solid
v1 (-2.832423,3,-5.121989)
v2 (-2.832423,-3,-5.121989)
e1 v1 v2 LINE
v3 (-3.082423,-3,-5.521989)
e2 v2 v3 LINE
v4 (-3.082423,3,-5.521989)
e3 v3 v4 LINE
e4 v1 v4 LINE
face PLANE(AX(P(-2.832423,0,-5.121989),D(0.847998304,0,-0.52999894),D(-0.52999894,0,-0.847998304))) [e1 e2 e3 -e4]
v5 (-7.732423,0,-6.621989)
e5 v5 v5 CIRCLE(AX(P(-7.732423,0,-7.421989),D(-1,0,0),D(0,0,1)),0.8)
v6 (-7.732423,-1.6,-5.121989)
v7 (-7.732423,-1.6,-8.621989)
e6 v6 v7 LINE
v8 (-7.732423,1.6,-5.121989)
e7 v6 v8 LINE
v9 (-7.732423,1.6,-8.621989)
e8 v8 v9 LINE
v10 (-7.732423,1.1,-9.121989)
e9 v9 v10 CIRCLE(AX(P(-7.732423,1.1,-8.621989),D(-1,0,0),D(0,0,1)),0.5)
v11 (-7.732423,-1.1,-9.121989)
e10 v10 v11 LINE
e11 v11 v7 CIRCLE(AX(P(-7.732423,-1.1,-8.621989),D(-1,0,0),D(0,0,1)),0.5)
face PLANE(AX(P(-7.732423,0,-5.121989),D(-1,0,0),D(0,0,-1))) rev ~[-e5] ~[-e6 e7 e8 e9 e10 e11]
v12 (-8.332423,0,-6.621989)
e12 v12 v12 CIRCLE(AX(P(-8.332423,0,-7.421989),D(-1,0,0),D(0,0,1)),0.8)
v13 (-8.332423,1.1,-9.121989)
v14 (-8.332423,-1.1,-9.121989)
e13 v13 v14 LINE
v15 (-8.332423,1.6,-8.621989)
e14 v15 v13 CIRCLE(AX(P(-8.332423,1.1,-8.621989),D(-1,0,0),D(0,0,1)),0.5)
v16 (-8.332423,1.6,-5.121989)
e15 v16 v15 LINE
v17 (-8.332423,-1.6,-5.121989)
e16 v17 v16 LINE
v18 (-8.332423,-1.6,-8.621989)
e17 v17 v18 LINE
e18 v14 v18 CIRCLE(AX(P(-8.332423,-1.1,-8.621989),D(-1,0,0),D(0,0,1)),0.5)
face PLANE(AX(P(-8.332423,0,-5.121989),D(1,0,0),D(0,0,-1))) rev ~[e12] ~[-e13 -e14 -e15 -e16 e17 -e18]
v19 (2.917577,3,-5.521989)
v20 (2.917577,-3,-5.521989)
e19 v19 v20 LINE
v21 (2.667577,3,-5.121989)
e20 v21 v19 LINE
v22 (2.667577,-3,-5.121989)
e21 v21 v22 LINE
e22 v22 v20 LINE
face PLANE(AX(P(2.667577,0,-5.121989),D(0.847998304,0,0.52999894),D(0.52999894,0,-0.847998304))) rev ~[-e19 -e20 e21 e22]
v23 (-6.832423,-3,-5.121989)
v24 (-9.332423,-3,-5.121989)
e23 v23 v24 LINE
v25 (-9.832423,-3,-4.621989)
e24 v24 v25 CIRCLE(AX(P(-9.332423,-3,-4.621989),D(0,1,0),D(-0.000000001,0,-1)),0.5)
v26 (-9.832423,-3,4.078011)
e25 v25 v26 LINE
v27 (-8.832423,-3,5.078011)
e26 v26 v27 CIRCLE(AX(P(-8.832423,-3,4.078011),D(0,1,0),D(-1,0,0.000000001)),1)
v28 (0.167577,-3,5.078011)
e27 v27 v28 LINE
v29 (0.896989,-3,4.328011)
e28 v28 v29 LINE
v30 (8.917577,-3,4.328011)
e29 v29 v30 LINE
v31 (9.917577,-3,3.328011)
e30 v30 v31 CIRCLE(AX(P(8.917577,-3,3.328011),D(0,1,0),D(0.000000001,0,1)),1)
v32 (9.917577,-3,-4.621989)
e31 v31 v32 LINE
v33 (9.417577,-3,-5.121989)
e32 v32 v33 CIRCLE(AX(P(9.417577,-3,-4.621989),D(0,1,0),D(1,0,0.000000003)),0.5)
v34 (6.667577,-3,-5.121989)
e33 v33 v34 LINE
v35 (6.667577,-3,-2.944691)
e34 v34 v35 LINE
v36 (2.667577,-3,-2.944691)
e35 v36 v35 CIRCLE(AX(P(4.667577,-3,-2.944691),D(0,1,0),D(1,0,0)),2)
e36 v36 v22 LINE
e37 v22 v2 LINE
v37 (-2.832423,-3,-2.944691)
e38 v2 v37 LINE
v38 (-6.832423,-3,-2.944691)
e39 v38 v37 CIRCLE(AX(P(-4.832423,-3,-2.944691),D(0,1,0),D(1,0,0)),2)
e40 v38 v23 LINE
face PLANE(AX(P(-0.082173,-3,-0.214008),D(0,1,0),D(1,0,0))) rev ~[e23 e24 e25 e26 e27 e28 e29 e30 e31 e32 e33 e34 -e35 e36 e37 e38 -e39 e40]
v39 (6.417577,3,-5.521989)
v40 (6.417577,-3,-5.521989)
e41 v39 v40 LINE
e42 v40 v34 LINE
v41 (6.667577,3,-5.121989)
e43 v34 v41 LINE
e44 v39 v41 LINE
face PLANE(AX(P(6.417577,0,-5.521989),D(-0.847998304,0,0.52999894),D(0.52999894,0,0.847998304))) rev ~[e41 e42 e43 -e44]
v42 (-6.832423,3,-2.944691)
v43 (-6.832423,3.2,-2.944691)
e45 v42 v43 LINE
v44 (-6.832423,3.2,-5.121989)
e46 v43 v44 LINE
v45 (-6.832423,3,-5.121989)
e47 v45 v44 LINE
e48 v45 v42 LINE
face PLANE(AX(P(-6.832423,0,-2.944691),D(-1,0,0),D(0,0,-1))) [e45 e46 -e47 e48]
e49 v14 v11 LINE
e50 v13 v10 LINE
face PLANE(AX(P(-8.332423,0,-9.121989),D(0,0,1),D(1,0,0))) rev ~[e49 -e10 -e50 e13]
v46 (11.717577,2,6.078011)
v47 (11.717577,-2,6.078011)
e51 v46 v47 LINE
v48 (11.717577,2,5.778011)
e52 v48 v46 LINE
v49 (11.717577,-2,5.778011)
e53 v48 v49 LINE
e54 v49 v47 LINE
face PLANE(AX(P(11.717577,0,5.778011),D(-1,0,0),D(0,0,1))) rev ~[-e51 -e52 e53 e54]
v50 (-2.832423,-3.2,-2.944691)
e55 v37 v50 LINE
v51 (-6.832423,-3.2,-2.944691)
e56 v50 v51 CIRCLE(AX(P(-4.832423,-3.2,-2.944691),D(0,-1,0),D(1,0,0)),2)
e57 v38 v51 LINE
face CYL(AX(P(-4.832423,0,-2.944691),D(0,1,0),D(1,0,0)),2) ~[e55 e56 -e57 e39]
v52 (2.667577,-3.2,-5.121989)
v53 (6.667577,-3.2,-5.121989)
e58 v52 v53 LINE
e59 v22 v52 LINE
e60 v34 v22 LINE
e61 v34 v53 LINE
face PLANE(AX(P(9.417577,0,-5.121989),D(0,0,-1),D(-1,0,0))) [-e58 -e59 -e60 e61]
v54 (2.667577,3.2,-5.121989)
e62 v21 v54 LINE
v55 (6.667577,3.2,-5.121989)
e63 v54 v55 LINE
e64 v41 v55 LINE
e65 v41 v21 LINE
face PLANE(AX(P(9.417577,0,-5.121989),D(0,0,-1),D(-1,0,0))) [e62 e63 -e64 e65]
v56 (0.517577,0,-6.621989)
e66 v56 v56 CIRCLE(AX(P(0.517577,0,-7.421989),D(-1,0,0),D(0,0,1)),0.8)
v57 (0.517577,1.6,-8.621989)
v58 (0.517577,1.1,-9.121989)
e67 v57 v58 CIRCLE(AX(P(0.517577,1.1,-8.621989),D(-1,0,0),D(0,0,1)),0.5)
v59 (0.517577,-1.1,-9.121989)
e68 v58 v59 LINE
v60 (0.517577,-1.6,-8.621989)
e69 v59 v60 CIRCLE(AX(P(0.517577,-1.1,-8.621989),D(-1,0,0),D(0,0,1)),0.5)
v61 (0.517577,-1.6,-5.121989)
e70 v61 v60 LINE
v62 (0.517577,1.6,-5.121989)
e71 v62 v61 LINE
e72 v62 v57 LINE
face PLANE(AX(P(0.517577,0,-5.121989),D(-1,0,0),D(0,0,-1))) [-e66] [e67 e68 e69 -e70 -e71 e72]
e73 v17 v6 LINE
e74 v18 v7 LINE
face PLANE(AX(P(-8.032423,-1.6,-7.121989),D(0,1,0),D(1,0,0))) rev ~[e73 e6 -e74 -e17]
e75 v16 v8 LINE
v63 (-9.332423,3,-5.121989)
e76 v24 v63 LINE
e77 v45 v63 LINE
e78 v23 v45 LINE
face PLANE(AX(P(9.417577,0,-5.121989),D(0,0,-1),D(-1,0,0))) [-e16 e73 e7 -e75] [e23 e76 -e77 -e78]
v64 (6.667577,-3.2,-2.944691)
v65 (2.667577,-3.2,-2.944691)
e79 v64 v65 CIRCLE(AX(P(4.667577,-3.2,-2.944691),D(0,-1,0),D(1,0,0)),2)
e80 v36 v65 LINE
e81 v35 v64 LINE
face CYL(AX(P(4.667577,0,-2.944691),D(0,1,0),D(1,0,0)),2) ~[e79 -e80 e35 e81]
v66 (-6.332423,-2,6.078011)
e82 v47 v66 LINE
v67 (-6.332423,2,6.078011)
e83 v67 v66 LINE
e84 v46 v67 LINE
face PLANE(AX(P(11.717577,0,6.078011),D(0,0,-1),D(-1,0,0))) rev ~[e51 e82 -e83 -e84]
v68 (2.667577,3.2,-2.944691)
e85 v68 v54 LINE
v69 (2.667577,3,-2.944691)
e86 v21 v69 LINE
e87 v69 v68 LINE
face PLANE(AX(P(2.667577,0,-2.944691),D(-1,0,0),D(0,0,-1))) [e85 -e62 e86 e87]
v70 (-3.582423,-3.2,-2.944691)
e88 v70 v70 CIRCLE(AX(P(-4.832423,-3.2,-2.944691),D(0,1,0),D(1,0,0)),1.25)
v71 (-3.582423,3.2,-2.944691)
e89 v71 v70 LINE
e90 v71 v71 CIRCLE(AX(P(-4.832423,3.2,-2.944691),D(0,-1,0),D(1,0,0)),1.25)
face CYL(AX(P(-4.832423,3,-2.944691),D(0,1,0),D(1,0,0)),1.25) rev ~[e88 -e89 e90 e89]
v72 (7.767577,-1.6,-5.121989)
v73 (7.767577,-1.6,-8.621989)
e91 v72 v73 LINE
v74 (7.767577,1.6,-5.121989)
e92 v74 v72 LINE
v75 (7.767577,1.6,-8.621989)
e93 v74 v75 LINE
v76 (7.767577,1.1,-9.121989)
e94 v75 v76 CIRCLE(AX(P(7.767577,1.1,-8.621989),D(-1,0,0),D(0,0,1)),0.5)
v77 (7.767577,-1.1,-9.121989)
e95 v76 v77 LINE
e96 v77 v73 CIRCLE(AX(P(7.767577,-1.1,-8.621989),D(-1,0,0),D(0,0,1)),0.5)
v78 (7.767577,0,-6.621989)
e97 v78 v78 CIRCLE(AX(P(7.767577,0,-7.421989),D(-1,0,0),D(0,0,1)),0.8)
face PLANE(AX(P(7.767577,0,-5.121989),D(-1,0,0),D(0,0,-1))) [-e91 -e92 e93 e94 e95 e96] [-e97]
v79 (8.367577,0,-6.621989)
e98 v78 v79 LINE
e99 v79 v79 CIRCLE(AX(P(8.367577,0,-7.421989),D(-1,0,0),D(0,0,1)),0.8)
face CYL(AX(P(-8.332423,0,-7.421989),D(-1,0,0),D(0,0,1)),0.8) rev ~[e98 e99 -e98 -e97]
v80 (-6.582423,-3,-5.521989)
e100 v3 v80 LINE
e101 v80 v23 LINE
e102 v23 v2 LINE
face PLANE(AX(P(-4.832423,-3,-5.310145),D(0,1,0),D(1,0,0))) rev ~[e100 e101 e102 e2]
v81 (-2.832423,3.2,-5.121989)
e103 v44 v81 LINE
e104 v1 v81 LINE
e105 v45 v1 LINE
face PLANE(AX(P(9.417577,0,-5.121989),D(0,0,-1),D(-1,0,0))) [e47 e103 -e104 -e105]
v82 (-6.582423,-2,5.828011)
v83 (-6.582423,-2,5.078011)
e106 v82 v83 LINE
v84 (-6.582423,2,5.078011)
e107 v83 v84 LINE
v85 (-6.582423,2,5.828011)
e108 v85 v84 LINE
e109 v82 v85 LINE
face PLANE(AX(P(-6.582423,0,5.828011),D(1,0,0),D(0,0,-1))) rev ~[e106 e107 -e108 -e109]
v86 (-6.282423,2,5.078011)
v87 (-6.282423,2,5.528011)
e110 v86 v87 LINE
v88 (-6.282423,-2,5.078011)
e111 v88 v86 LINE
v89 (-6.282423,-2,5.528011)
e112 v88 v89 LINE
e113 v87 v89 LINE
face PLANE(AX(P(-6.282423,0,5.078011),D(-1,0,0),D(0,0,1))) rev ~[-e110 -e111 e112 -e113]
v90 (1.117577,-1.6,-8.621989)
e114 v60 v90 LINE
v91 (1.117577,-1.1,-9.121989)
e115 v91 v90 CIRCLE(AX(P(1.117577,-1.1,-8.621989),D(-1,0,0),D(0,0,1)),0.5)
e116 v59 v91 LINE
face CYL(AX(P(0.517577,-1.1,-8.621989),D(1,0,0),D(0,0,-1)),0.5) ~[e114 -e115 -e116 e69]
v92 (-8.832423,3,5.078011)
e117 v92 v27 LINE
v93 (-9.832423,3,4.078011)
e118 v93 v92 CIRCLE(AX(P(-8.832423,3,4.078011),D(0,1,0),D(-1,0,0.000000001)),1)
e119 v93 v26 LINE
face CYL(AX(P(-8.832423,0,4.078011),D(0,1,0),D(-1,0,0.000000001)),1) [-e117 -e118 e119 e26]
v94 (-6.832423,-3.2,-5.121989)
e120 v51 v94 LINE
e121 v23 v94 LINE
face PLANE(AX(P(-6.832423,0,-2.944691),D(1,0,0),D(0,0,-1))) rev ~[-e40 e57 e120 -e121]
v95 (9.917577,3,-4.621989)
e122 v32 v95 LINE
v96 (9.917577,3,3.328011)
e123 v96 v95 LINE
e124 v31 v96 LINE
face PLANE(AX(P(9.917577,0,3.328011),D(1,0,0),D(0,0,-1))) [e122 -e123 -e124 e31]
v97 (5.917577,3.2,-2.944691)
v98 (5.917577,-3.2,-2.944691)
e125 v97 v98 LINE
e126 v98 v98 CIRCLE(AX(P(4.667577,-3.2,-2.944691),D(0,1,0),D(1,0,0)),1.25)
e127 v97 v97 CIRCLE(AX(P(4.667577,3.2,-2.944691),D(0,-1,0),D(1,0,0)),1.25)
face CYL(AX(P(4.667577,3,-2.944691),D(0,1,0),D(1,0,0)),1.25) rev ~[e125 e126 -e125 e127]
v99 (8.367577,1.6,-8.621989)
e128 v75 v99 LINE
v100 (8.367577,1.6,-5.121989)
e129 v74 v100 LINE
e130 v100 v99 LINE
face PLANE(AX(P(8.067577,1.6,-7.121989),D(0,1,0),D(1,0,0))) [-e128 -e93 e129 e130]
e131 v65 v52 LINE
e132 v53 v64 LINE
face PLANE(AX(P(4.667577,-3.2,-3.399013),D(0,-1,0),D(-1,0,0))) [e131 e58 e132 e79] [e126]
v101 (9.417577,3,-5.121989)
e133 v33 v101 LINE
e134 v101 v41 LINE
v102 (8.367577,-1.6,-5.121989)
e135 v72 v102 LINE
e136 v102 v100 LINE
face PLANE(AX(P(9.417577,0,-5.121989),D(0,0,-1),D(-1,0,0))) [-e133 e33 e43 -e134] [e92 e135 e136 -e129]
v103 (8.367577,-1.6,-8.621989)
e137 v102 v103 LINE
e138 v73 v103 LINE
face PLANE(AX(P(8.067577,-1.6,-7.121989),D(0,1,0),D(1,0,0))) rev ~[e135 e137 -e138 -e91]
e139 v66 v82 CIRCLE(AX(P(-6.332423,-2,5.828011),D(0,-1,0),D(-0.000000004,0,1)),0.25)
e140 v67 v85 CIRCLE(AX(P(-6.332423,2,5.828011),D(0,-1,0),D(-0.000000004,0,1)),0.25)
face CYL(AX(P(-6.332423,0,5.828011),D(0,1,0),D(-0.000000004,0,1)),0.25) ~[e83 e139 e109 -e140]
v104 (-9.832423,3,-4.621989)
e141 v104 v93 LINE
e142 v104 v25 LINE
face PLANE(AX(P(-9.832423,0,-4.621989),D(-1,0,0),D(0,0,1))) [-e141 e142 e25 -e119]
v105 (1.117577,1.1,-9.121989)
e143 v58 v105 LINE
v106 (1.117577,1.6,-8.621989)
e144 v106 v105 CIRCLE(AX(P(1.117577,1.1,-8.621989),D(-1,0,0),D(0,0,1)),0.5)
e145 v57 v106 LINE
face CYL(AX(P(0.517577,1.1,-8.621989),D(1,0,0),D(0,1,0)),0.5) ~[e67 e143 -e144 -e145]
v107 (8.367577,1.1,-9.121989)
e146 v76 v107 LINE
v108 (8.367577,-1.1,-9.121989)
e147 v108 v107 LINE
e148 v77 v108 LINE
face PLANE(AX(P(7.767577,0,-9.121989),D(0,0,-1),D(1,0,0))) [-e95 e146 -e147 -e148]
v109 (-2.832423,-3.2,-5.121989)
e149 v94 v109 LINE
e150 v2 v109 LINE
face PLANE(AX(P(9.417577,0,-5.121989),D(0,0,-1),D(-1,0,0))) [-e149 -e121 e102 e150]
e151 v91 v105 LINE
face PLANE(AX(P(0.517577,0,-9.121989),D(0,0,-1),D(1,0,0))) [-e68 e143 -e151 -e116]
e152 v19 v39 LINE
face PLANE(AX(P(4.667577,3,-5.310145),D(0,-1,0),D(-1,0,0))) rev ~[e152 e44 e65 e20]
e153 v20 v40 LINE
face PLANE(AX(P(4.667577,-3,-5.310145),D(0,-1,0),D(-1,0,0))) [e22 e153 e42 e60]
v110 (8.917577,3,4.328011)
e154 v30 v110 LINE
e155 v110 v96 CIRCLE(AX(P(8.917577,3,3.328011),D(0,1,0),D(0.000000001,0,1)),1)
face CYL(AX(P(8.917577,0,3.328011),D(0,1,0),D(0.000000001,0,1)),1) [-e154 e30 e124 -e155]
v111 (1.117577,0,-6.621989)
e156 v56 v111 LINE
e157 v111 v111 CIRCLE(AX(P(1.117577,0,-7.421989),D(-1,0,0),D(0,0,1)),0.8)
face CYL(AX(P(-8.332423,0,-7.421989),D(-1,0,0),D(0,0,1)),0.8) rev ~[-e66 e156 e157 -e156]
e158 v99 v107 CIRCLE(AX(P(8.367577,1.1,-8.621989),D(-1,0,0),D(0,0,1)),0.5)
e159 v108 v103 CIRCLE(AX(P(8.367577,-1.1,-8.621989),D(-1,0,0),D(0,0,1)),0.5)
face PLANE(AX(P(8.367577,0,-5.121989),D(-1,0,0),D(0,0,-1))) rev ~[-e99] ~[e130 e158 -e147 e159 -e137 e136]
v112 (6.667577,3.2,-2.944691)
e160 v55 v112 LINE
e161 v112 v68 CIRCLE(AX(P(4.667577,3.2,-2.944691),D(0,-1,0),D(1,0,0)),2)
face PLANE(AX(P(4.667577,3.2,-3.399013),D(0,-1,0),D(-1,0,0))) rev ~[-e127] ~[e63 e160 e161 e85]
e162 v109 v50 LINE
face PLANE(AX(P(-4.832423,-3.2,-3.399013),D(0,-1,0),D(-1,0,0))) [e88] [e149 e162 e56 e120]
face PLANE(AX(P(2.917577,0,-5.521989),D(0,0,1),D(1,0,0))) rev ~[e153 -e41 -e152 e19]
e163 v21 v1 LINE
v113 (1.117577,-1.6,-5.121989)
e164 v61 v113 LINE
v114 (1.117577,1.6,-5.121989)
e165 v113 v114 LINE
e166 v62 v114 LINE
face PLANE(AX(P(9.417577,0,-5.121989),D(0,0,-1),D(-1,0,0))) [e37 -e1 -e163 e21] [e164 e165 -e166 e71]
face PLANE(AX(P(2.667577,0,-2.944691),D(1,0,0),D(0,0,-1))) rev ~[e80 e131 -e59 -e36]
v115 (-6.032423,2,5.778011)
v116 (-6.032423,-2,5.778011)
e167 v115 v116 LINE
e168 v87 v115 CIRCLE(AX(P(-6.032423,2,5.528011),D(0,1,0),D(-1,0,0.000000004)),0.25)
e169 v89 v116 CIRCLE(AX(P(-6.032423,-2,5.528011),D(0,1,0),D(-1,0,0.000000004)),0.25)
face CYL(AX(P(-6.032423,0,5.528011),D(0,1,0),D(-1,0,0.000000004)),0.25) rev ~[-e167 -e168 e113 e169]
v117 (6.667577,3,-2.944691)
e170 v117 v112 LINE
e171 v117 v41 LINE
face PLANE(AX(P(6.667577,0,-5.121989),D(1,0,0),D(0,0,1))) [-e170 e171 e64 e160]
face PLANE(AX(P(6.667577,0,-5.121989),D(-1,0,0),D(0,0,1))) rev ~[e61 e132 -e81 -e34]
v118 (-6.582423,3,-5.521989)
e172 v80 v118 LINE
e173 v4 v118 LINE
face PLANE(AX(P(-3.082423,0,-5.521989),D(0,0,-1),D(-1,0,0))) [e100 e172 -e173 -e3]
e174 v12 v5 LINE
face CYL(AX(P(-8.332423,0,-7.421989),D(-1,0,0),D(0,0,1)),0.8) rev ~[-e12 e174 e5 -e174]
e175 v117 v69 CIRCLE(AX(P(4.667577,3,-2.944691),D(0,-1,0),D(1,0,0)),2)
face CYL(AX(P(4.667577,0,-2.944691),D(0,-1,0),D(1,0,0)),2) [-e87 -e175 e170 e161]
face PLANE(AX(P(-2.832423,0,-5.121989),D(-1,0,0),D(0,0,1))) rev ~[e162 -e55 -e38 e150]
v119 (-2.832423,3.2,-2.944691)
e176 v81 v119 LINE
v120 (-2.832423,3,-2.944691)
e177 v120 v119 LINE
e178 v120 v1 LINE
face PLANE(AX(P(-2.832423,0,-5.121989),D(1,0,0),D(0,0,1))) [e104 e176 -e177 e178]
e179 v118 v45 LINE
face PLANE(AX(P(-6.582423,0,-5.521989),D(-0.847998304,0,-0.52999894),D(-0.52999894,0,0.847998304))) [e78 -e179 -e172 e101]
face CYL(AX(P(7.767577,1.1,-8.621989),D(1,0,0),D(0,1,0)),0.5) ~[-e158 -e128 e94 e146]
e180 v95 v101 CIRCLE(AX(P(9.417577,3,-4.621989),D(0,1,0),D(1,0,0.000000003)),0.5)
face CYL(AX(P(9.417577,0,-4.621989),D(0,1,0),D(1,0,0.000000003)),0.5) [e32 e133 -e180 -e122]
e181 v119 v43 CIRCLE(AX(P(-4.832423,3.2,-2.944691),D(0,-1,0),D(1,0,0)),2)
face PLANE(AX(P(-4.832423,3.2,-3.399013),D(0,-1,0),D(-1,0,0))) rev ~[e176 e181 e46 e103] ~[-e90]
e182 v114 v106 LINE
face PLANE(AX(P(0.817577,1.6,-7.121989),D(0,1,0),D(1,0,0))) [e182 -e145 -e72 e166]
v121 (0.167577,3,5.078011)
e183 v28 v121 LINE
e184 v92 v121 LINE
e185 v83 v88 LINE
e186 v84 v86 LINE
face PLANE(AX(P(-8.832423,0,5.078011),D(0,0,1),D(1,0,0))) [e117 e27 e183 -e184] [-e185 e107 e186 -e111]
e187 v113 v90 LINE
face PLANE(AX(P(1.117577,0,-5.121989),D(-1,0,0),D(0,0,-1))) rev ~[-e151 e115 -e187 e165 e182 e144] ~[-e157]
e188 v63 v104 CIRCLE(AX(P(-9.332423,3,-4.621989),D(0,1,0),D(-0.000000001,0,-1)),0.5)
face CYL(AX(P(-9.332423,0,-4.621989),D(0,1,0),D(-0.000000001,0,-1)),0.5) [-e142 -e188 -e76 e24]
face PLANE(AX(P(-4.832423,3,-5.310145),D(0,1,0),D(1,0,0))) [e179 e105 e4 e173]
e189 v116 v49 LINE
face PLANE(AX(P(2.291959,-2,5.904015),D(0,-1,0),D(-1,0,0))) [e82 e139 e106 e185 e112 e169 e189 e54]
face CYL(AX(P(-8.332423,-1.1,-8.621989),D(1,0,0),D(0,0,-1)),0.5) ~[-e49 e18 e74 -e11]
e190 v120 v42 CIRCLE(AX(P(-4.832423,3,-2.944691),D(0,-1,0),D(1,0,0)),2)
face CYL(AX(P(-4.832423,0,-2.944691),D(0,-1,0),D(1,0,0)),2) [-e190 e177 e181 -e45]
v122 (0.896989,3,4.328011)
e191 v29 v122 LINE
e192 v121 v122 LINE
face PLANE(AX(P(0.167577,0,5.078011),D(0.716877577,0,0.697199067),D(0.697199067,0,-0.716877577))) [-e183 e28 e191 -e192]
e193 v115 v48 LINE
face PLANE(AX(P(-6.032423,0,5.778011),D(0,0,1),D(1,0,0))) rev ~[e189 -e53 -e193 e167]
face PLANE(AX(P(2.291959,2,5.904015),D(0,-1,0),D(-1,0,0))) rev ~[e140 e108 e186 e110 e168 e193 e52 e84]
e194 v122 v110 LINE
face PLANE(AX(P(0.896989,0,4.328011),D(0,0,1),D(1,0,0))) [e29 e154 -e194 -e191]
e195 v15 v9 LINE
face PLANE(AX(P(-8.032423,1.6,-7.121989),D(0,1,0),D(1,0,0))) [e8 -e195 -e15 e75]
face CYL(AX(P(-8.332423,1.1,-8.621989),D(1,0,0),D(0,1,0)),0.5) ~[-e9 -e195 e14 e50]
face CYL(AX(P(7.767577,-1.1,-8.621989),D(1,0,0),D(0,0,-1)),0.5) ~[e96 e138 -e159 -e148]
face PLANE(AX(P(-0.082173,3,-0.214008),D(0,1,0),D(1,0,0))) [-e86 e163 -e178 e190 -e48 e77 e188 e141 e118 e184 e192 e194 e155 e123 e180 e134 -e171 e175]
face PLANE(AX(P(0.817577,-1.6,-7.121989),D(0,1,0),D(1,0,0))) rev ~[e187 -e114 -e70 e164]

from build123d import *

# Parameters (mm, degrees)
BOSS_EXTRUDE1_DEPTH      = 3
BOSS_EXTRUDE1_DEPTH_BACK = 3
BOSS_EXTRUDE2_DEPTH      = 2
BOSS_EXTRUDE2_DEPTH_BACK = 2
BOSS_EXTRUDE3_DEPTH      = 3.2
BOSS_EXTRUDE3_DEPTH_BACK = 3.2
SKETCH3_R                = 1.25
CUT_EXTRUDE1_DEPTH       = 1.2
CUT_EXTRUDE1_DEPTH_BACK  = 7.2
BOSS_EXTRUDE4_DEPTH      = 3
BOSS_EXTRUDE4_DEPTH_BACK = 3
SKETCH6_W                = 0.6
SKETCH6_H                = 4
BOSS_EXTRUDE5_DEPTH      = 1.6
BOSS_EXTRUDE5_DEPTH_BACK = 1.6
FILLET1_R                = 0.5
SKETCH7_R                = 0.8
CUT_EXTRUDE2_DEPTH       = 2.5
CUT_EXTRUDE2_DEPTH_BACK  = 21.05


with BuildPart() as part:
    # Sketch1 → Boss-Extrude1 (new body, two sides)
    with BuildSketch(Plane(origin=(0, 0, 0), x_dir=(1, 0, 0), z_dir=(0, 1, 0))) as boss_extrude1_sk:
        with BuildLine():
            Line((-8.832423279, -5.07801101), (0.167576721, -5.07801101))
            Line((0.167576721, -5.07801101), (0.89698899, -4.32801101))
            Line((0.89698899, -4.32801101), (8.917576721, -4.32801101))
            ThreePointArc((8.917576721, -4.32801101), (9.624683502, -4.035117791), (9.917576721, -3.32801101))
            Line((9.917576721, -3.32801101), (9.917576721, 4.62198899))
            ThreePointArc((9.917576721, 4.62198899), (9.771130112, 4.975542381), (9.417576721, 5.12198899))
            Line((9.417576721, 5.12198899), (-9.332423279, 5.12198899))
            ThreePointArc((-9.332423279, 5.12198899), (-9.685976669, 4.975542381), (-9.832423279, 4.62198899))
            Line((-9.832423279, 4.62198899), (-9.832423279, -4.07801101))
            ThreePointArc((-9.832423279, -4.07801101), (-9.53953006, -4.785117791), (-8.832423279, -5.07801101))
        make_face()
    extrude(amount=BOSS_EXTRUDE1_DEPTH)
    extrude(boss_extrude1_sk.sketch, amount=-BOSS_EXTRUDE1_DEPTH_BACK)

    # Sketch2 → Boss-Extrude2 (add, two sides)
    with BuildSketch(Plane(origin=(0, 0, 0), x_dir=(1, 0, 0), z_dir=(0, 1, 0))) as boss_extrude2_sk:
        with BuildLine():
            Line((-6.582423279, -5.07801101), (-6.282423279, -5.07801101))
            Line((-6.282423279, -5.07801101), (-6.282423279, -5.52801101))
            ThreePointArc((-6.282423279, -5.52801101), (-6.209199974, -5.704787705), (-6.032423279, -5.77801101))
            Line((-6.032423279, -5.77801101), (11.717576721, -5.77801101))
            Line((11.717576721, -5.77801101), (11.717576721, -6.07801101))
            Line((11.717576721, -6.07801101), (-6.282423279, -6.07801101))
            Line((-6.282423279, -6.07801101), (-6.332423279, -6.07801101))
            ThreePointArc((-6.332423279, -6.07801101), (-6.509199974, -6.004787705), (-6.582423279, -5.82801101))
            Line((-6.582423279, -5.82801101), (-6.582423279, -5.07801101))
        make_face()
    extrude(amount=BOSS_EXTRUDE2_DEPTH)
    extrude(boss_extrude2_sk.sketch, amount=-BOSS_EXTRUDE2_DEPTH_BACK)

    # Sketch4 → Boss-Extrude3 (add, two sides)
    with BuildSketch(Plane(origin=(0, 0, 0), x_dir=(1, 0, 0), z_dir=(0, 1, 0))) as boss_extrude3_sk:
        with BuildLine():
            Line((-6.832423279, 2.944690743), (-6.832423279, 5.12198899))
            Line((-6.832423279, 5.12198899), (-2.832423279, 5.12198899))
            Line((-2.832423279, 5.12198899), (-2.832423279, 2.944690743))
            ThreePointArc((-2.832423279, 2.944690743), (-4.832423279, 0.944690743), (-6.832423279, 2.944690743))
        make_face()
        with BuildLine():
            Line((6.667576721, 5.12198899), (6.667576721, 2.944690743))
            ThreePointArc((6.667576721, 2.944690743), (4.667576721, 0.944690743), (2.667576721, 2.944690743))
            Line((2.667576721, 2.944690743), (2.667576721, 5.12198899))
            Line((2.667576721, 5.12198899), (6.667576721, 5.12198899))
        make_face()
    extrude(amount=BOSS_EXTRUDE3_DEPTH)
    extrude(boss_extrude3_sk.sketch, amount=-BOSS_EXTRUDE3_DEPTH_BACK)

    # Sketch3 → Cut-Extrude1 (cut, two sides)
    with BuildSketch(Plane(origin=(0, 3, 0), x_dir=(1, 0, 0), z_dir=(0, 1, 0))) as cut_extrude1_sk:
        with Locations((-4.832423279, 2.944690743)):
            Circle(SKETCH3_R)
        with Locations((4.667576721, 2.944690743)):
            Circle(SKETCH3_R)
    extrude(amount=CUT_EXTRUDE1_DEPTH, mode=Mode.SUBTRACT)
    extrude(cut_extrude1_sk.sketch, amount=-CUT_EXTRUDE1_DEPTH_BACK, mode=Mode.SUBTRACT)

    # Sketch5 → Boss-Extrude4 (add, two sides)
    with BuildSketch(Plane(origin=(0, 0, 0), x_dir=(1, 0, 0), z_dir=(0, 1, 0))) as boss_extrude4_sk:
        Polygon((-6.832423279, 5.12198899), (-2.832423279, 5.12198899), (-3.082423279, 5.52198899), (-6.582423279, 5.52198899), align=None)
        Polygon((6.417576721, 5.52198899), (6.667576721, 5.12198899), (2.667576721, 5.12198899), (2.917576721, 5.52198899), align=None)
    extrude(amount=BOSS_EXTRUDE4_DEPTH)
    extrude(boss_extrude4_sk.sketch, amount=-BOSS_EXTRUDE4_DEPTH_BACK)

    # Sketch6 → Boss-Extrude5 (add, two sides)
    with BuildSketch(Plane(origin=(0, 0, 0), x_dir=(1, 0, 0), z_dir=(0, 1, 0))) as boss_extrude5_sk:
        with Locations((-8.032423279, 7.12198899)):
            Rectangle(SKETCH6_W, SKETCH6_H)
        with Locations((0.817576721, 7.12198899)):
            Rectangle(SKETCH6_W, SKETCH6_H)
        with Locations((8.067576721, 7.12198899)):
            Rectangle(SKETCH6_W, SKETCH6_H)
    extrude(amount=BOSS_EXTRUDE5_DEPTH)
    extrude(boss_extrude5_sk.sketch, amount=-BOSS_EXTRUDE5_DEPTH_BACK)

    # Fillet1
    fillet1_edges = [part.edges().sort_by_distance(p)[0] for p in [
        (-8.032423279, -1.6, -9.12198899),
        (-8.032423279, 1.6, -9.12198899),
        (0.817576721, -1.6, -9.12198899),
        (0.817576721, 1.6, -9.12198899),
        (8.067576721, -1.6, -9.12198899),
        (8.067576721, 1.6, -9.12198899),
    ]]
    fillet(fillet1_edges, radius=FILLET1_R)

    # Sketch7 → Cut-Extrude2 (cut, two sides)
    with BuildSketch(Plane.ZY.offset(8.332423279)) as cut_extrude2_sk:
        with Locations((-7.42198899, 0)):
            Circle(SKETCH7_R)
    extrude(amount=CUT_EXTRUDE2_DEPTH, mode=Mode.SUBTRACT)
    extrude(cut_extrude2_sk.sketch, amount=-CUT_EXTRUDE2_DEPTH_BACK, mode=Mode.SUBTRACT)


solid = part.part
